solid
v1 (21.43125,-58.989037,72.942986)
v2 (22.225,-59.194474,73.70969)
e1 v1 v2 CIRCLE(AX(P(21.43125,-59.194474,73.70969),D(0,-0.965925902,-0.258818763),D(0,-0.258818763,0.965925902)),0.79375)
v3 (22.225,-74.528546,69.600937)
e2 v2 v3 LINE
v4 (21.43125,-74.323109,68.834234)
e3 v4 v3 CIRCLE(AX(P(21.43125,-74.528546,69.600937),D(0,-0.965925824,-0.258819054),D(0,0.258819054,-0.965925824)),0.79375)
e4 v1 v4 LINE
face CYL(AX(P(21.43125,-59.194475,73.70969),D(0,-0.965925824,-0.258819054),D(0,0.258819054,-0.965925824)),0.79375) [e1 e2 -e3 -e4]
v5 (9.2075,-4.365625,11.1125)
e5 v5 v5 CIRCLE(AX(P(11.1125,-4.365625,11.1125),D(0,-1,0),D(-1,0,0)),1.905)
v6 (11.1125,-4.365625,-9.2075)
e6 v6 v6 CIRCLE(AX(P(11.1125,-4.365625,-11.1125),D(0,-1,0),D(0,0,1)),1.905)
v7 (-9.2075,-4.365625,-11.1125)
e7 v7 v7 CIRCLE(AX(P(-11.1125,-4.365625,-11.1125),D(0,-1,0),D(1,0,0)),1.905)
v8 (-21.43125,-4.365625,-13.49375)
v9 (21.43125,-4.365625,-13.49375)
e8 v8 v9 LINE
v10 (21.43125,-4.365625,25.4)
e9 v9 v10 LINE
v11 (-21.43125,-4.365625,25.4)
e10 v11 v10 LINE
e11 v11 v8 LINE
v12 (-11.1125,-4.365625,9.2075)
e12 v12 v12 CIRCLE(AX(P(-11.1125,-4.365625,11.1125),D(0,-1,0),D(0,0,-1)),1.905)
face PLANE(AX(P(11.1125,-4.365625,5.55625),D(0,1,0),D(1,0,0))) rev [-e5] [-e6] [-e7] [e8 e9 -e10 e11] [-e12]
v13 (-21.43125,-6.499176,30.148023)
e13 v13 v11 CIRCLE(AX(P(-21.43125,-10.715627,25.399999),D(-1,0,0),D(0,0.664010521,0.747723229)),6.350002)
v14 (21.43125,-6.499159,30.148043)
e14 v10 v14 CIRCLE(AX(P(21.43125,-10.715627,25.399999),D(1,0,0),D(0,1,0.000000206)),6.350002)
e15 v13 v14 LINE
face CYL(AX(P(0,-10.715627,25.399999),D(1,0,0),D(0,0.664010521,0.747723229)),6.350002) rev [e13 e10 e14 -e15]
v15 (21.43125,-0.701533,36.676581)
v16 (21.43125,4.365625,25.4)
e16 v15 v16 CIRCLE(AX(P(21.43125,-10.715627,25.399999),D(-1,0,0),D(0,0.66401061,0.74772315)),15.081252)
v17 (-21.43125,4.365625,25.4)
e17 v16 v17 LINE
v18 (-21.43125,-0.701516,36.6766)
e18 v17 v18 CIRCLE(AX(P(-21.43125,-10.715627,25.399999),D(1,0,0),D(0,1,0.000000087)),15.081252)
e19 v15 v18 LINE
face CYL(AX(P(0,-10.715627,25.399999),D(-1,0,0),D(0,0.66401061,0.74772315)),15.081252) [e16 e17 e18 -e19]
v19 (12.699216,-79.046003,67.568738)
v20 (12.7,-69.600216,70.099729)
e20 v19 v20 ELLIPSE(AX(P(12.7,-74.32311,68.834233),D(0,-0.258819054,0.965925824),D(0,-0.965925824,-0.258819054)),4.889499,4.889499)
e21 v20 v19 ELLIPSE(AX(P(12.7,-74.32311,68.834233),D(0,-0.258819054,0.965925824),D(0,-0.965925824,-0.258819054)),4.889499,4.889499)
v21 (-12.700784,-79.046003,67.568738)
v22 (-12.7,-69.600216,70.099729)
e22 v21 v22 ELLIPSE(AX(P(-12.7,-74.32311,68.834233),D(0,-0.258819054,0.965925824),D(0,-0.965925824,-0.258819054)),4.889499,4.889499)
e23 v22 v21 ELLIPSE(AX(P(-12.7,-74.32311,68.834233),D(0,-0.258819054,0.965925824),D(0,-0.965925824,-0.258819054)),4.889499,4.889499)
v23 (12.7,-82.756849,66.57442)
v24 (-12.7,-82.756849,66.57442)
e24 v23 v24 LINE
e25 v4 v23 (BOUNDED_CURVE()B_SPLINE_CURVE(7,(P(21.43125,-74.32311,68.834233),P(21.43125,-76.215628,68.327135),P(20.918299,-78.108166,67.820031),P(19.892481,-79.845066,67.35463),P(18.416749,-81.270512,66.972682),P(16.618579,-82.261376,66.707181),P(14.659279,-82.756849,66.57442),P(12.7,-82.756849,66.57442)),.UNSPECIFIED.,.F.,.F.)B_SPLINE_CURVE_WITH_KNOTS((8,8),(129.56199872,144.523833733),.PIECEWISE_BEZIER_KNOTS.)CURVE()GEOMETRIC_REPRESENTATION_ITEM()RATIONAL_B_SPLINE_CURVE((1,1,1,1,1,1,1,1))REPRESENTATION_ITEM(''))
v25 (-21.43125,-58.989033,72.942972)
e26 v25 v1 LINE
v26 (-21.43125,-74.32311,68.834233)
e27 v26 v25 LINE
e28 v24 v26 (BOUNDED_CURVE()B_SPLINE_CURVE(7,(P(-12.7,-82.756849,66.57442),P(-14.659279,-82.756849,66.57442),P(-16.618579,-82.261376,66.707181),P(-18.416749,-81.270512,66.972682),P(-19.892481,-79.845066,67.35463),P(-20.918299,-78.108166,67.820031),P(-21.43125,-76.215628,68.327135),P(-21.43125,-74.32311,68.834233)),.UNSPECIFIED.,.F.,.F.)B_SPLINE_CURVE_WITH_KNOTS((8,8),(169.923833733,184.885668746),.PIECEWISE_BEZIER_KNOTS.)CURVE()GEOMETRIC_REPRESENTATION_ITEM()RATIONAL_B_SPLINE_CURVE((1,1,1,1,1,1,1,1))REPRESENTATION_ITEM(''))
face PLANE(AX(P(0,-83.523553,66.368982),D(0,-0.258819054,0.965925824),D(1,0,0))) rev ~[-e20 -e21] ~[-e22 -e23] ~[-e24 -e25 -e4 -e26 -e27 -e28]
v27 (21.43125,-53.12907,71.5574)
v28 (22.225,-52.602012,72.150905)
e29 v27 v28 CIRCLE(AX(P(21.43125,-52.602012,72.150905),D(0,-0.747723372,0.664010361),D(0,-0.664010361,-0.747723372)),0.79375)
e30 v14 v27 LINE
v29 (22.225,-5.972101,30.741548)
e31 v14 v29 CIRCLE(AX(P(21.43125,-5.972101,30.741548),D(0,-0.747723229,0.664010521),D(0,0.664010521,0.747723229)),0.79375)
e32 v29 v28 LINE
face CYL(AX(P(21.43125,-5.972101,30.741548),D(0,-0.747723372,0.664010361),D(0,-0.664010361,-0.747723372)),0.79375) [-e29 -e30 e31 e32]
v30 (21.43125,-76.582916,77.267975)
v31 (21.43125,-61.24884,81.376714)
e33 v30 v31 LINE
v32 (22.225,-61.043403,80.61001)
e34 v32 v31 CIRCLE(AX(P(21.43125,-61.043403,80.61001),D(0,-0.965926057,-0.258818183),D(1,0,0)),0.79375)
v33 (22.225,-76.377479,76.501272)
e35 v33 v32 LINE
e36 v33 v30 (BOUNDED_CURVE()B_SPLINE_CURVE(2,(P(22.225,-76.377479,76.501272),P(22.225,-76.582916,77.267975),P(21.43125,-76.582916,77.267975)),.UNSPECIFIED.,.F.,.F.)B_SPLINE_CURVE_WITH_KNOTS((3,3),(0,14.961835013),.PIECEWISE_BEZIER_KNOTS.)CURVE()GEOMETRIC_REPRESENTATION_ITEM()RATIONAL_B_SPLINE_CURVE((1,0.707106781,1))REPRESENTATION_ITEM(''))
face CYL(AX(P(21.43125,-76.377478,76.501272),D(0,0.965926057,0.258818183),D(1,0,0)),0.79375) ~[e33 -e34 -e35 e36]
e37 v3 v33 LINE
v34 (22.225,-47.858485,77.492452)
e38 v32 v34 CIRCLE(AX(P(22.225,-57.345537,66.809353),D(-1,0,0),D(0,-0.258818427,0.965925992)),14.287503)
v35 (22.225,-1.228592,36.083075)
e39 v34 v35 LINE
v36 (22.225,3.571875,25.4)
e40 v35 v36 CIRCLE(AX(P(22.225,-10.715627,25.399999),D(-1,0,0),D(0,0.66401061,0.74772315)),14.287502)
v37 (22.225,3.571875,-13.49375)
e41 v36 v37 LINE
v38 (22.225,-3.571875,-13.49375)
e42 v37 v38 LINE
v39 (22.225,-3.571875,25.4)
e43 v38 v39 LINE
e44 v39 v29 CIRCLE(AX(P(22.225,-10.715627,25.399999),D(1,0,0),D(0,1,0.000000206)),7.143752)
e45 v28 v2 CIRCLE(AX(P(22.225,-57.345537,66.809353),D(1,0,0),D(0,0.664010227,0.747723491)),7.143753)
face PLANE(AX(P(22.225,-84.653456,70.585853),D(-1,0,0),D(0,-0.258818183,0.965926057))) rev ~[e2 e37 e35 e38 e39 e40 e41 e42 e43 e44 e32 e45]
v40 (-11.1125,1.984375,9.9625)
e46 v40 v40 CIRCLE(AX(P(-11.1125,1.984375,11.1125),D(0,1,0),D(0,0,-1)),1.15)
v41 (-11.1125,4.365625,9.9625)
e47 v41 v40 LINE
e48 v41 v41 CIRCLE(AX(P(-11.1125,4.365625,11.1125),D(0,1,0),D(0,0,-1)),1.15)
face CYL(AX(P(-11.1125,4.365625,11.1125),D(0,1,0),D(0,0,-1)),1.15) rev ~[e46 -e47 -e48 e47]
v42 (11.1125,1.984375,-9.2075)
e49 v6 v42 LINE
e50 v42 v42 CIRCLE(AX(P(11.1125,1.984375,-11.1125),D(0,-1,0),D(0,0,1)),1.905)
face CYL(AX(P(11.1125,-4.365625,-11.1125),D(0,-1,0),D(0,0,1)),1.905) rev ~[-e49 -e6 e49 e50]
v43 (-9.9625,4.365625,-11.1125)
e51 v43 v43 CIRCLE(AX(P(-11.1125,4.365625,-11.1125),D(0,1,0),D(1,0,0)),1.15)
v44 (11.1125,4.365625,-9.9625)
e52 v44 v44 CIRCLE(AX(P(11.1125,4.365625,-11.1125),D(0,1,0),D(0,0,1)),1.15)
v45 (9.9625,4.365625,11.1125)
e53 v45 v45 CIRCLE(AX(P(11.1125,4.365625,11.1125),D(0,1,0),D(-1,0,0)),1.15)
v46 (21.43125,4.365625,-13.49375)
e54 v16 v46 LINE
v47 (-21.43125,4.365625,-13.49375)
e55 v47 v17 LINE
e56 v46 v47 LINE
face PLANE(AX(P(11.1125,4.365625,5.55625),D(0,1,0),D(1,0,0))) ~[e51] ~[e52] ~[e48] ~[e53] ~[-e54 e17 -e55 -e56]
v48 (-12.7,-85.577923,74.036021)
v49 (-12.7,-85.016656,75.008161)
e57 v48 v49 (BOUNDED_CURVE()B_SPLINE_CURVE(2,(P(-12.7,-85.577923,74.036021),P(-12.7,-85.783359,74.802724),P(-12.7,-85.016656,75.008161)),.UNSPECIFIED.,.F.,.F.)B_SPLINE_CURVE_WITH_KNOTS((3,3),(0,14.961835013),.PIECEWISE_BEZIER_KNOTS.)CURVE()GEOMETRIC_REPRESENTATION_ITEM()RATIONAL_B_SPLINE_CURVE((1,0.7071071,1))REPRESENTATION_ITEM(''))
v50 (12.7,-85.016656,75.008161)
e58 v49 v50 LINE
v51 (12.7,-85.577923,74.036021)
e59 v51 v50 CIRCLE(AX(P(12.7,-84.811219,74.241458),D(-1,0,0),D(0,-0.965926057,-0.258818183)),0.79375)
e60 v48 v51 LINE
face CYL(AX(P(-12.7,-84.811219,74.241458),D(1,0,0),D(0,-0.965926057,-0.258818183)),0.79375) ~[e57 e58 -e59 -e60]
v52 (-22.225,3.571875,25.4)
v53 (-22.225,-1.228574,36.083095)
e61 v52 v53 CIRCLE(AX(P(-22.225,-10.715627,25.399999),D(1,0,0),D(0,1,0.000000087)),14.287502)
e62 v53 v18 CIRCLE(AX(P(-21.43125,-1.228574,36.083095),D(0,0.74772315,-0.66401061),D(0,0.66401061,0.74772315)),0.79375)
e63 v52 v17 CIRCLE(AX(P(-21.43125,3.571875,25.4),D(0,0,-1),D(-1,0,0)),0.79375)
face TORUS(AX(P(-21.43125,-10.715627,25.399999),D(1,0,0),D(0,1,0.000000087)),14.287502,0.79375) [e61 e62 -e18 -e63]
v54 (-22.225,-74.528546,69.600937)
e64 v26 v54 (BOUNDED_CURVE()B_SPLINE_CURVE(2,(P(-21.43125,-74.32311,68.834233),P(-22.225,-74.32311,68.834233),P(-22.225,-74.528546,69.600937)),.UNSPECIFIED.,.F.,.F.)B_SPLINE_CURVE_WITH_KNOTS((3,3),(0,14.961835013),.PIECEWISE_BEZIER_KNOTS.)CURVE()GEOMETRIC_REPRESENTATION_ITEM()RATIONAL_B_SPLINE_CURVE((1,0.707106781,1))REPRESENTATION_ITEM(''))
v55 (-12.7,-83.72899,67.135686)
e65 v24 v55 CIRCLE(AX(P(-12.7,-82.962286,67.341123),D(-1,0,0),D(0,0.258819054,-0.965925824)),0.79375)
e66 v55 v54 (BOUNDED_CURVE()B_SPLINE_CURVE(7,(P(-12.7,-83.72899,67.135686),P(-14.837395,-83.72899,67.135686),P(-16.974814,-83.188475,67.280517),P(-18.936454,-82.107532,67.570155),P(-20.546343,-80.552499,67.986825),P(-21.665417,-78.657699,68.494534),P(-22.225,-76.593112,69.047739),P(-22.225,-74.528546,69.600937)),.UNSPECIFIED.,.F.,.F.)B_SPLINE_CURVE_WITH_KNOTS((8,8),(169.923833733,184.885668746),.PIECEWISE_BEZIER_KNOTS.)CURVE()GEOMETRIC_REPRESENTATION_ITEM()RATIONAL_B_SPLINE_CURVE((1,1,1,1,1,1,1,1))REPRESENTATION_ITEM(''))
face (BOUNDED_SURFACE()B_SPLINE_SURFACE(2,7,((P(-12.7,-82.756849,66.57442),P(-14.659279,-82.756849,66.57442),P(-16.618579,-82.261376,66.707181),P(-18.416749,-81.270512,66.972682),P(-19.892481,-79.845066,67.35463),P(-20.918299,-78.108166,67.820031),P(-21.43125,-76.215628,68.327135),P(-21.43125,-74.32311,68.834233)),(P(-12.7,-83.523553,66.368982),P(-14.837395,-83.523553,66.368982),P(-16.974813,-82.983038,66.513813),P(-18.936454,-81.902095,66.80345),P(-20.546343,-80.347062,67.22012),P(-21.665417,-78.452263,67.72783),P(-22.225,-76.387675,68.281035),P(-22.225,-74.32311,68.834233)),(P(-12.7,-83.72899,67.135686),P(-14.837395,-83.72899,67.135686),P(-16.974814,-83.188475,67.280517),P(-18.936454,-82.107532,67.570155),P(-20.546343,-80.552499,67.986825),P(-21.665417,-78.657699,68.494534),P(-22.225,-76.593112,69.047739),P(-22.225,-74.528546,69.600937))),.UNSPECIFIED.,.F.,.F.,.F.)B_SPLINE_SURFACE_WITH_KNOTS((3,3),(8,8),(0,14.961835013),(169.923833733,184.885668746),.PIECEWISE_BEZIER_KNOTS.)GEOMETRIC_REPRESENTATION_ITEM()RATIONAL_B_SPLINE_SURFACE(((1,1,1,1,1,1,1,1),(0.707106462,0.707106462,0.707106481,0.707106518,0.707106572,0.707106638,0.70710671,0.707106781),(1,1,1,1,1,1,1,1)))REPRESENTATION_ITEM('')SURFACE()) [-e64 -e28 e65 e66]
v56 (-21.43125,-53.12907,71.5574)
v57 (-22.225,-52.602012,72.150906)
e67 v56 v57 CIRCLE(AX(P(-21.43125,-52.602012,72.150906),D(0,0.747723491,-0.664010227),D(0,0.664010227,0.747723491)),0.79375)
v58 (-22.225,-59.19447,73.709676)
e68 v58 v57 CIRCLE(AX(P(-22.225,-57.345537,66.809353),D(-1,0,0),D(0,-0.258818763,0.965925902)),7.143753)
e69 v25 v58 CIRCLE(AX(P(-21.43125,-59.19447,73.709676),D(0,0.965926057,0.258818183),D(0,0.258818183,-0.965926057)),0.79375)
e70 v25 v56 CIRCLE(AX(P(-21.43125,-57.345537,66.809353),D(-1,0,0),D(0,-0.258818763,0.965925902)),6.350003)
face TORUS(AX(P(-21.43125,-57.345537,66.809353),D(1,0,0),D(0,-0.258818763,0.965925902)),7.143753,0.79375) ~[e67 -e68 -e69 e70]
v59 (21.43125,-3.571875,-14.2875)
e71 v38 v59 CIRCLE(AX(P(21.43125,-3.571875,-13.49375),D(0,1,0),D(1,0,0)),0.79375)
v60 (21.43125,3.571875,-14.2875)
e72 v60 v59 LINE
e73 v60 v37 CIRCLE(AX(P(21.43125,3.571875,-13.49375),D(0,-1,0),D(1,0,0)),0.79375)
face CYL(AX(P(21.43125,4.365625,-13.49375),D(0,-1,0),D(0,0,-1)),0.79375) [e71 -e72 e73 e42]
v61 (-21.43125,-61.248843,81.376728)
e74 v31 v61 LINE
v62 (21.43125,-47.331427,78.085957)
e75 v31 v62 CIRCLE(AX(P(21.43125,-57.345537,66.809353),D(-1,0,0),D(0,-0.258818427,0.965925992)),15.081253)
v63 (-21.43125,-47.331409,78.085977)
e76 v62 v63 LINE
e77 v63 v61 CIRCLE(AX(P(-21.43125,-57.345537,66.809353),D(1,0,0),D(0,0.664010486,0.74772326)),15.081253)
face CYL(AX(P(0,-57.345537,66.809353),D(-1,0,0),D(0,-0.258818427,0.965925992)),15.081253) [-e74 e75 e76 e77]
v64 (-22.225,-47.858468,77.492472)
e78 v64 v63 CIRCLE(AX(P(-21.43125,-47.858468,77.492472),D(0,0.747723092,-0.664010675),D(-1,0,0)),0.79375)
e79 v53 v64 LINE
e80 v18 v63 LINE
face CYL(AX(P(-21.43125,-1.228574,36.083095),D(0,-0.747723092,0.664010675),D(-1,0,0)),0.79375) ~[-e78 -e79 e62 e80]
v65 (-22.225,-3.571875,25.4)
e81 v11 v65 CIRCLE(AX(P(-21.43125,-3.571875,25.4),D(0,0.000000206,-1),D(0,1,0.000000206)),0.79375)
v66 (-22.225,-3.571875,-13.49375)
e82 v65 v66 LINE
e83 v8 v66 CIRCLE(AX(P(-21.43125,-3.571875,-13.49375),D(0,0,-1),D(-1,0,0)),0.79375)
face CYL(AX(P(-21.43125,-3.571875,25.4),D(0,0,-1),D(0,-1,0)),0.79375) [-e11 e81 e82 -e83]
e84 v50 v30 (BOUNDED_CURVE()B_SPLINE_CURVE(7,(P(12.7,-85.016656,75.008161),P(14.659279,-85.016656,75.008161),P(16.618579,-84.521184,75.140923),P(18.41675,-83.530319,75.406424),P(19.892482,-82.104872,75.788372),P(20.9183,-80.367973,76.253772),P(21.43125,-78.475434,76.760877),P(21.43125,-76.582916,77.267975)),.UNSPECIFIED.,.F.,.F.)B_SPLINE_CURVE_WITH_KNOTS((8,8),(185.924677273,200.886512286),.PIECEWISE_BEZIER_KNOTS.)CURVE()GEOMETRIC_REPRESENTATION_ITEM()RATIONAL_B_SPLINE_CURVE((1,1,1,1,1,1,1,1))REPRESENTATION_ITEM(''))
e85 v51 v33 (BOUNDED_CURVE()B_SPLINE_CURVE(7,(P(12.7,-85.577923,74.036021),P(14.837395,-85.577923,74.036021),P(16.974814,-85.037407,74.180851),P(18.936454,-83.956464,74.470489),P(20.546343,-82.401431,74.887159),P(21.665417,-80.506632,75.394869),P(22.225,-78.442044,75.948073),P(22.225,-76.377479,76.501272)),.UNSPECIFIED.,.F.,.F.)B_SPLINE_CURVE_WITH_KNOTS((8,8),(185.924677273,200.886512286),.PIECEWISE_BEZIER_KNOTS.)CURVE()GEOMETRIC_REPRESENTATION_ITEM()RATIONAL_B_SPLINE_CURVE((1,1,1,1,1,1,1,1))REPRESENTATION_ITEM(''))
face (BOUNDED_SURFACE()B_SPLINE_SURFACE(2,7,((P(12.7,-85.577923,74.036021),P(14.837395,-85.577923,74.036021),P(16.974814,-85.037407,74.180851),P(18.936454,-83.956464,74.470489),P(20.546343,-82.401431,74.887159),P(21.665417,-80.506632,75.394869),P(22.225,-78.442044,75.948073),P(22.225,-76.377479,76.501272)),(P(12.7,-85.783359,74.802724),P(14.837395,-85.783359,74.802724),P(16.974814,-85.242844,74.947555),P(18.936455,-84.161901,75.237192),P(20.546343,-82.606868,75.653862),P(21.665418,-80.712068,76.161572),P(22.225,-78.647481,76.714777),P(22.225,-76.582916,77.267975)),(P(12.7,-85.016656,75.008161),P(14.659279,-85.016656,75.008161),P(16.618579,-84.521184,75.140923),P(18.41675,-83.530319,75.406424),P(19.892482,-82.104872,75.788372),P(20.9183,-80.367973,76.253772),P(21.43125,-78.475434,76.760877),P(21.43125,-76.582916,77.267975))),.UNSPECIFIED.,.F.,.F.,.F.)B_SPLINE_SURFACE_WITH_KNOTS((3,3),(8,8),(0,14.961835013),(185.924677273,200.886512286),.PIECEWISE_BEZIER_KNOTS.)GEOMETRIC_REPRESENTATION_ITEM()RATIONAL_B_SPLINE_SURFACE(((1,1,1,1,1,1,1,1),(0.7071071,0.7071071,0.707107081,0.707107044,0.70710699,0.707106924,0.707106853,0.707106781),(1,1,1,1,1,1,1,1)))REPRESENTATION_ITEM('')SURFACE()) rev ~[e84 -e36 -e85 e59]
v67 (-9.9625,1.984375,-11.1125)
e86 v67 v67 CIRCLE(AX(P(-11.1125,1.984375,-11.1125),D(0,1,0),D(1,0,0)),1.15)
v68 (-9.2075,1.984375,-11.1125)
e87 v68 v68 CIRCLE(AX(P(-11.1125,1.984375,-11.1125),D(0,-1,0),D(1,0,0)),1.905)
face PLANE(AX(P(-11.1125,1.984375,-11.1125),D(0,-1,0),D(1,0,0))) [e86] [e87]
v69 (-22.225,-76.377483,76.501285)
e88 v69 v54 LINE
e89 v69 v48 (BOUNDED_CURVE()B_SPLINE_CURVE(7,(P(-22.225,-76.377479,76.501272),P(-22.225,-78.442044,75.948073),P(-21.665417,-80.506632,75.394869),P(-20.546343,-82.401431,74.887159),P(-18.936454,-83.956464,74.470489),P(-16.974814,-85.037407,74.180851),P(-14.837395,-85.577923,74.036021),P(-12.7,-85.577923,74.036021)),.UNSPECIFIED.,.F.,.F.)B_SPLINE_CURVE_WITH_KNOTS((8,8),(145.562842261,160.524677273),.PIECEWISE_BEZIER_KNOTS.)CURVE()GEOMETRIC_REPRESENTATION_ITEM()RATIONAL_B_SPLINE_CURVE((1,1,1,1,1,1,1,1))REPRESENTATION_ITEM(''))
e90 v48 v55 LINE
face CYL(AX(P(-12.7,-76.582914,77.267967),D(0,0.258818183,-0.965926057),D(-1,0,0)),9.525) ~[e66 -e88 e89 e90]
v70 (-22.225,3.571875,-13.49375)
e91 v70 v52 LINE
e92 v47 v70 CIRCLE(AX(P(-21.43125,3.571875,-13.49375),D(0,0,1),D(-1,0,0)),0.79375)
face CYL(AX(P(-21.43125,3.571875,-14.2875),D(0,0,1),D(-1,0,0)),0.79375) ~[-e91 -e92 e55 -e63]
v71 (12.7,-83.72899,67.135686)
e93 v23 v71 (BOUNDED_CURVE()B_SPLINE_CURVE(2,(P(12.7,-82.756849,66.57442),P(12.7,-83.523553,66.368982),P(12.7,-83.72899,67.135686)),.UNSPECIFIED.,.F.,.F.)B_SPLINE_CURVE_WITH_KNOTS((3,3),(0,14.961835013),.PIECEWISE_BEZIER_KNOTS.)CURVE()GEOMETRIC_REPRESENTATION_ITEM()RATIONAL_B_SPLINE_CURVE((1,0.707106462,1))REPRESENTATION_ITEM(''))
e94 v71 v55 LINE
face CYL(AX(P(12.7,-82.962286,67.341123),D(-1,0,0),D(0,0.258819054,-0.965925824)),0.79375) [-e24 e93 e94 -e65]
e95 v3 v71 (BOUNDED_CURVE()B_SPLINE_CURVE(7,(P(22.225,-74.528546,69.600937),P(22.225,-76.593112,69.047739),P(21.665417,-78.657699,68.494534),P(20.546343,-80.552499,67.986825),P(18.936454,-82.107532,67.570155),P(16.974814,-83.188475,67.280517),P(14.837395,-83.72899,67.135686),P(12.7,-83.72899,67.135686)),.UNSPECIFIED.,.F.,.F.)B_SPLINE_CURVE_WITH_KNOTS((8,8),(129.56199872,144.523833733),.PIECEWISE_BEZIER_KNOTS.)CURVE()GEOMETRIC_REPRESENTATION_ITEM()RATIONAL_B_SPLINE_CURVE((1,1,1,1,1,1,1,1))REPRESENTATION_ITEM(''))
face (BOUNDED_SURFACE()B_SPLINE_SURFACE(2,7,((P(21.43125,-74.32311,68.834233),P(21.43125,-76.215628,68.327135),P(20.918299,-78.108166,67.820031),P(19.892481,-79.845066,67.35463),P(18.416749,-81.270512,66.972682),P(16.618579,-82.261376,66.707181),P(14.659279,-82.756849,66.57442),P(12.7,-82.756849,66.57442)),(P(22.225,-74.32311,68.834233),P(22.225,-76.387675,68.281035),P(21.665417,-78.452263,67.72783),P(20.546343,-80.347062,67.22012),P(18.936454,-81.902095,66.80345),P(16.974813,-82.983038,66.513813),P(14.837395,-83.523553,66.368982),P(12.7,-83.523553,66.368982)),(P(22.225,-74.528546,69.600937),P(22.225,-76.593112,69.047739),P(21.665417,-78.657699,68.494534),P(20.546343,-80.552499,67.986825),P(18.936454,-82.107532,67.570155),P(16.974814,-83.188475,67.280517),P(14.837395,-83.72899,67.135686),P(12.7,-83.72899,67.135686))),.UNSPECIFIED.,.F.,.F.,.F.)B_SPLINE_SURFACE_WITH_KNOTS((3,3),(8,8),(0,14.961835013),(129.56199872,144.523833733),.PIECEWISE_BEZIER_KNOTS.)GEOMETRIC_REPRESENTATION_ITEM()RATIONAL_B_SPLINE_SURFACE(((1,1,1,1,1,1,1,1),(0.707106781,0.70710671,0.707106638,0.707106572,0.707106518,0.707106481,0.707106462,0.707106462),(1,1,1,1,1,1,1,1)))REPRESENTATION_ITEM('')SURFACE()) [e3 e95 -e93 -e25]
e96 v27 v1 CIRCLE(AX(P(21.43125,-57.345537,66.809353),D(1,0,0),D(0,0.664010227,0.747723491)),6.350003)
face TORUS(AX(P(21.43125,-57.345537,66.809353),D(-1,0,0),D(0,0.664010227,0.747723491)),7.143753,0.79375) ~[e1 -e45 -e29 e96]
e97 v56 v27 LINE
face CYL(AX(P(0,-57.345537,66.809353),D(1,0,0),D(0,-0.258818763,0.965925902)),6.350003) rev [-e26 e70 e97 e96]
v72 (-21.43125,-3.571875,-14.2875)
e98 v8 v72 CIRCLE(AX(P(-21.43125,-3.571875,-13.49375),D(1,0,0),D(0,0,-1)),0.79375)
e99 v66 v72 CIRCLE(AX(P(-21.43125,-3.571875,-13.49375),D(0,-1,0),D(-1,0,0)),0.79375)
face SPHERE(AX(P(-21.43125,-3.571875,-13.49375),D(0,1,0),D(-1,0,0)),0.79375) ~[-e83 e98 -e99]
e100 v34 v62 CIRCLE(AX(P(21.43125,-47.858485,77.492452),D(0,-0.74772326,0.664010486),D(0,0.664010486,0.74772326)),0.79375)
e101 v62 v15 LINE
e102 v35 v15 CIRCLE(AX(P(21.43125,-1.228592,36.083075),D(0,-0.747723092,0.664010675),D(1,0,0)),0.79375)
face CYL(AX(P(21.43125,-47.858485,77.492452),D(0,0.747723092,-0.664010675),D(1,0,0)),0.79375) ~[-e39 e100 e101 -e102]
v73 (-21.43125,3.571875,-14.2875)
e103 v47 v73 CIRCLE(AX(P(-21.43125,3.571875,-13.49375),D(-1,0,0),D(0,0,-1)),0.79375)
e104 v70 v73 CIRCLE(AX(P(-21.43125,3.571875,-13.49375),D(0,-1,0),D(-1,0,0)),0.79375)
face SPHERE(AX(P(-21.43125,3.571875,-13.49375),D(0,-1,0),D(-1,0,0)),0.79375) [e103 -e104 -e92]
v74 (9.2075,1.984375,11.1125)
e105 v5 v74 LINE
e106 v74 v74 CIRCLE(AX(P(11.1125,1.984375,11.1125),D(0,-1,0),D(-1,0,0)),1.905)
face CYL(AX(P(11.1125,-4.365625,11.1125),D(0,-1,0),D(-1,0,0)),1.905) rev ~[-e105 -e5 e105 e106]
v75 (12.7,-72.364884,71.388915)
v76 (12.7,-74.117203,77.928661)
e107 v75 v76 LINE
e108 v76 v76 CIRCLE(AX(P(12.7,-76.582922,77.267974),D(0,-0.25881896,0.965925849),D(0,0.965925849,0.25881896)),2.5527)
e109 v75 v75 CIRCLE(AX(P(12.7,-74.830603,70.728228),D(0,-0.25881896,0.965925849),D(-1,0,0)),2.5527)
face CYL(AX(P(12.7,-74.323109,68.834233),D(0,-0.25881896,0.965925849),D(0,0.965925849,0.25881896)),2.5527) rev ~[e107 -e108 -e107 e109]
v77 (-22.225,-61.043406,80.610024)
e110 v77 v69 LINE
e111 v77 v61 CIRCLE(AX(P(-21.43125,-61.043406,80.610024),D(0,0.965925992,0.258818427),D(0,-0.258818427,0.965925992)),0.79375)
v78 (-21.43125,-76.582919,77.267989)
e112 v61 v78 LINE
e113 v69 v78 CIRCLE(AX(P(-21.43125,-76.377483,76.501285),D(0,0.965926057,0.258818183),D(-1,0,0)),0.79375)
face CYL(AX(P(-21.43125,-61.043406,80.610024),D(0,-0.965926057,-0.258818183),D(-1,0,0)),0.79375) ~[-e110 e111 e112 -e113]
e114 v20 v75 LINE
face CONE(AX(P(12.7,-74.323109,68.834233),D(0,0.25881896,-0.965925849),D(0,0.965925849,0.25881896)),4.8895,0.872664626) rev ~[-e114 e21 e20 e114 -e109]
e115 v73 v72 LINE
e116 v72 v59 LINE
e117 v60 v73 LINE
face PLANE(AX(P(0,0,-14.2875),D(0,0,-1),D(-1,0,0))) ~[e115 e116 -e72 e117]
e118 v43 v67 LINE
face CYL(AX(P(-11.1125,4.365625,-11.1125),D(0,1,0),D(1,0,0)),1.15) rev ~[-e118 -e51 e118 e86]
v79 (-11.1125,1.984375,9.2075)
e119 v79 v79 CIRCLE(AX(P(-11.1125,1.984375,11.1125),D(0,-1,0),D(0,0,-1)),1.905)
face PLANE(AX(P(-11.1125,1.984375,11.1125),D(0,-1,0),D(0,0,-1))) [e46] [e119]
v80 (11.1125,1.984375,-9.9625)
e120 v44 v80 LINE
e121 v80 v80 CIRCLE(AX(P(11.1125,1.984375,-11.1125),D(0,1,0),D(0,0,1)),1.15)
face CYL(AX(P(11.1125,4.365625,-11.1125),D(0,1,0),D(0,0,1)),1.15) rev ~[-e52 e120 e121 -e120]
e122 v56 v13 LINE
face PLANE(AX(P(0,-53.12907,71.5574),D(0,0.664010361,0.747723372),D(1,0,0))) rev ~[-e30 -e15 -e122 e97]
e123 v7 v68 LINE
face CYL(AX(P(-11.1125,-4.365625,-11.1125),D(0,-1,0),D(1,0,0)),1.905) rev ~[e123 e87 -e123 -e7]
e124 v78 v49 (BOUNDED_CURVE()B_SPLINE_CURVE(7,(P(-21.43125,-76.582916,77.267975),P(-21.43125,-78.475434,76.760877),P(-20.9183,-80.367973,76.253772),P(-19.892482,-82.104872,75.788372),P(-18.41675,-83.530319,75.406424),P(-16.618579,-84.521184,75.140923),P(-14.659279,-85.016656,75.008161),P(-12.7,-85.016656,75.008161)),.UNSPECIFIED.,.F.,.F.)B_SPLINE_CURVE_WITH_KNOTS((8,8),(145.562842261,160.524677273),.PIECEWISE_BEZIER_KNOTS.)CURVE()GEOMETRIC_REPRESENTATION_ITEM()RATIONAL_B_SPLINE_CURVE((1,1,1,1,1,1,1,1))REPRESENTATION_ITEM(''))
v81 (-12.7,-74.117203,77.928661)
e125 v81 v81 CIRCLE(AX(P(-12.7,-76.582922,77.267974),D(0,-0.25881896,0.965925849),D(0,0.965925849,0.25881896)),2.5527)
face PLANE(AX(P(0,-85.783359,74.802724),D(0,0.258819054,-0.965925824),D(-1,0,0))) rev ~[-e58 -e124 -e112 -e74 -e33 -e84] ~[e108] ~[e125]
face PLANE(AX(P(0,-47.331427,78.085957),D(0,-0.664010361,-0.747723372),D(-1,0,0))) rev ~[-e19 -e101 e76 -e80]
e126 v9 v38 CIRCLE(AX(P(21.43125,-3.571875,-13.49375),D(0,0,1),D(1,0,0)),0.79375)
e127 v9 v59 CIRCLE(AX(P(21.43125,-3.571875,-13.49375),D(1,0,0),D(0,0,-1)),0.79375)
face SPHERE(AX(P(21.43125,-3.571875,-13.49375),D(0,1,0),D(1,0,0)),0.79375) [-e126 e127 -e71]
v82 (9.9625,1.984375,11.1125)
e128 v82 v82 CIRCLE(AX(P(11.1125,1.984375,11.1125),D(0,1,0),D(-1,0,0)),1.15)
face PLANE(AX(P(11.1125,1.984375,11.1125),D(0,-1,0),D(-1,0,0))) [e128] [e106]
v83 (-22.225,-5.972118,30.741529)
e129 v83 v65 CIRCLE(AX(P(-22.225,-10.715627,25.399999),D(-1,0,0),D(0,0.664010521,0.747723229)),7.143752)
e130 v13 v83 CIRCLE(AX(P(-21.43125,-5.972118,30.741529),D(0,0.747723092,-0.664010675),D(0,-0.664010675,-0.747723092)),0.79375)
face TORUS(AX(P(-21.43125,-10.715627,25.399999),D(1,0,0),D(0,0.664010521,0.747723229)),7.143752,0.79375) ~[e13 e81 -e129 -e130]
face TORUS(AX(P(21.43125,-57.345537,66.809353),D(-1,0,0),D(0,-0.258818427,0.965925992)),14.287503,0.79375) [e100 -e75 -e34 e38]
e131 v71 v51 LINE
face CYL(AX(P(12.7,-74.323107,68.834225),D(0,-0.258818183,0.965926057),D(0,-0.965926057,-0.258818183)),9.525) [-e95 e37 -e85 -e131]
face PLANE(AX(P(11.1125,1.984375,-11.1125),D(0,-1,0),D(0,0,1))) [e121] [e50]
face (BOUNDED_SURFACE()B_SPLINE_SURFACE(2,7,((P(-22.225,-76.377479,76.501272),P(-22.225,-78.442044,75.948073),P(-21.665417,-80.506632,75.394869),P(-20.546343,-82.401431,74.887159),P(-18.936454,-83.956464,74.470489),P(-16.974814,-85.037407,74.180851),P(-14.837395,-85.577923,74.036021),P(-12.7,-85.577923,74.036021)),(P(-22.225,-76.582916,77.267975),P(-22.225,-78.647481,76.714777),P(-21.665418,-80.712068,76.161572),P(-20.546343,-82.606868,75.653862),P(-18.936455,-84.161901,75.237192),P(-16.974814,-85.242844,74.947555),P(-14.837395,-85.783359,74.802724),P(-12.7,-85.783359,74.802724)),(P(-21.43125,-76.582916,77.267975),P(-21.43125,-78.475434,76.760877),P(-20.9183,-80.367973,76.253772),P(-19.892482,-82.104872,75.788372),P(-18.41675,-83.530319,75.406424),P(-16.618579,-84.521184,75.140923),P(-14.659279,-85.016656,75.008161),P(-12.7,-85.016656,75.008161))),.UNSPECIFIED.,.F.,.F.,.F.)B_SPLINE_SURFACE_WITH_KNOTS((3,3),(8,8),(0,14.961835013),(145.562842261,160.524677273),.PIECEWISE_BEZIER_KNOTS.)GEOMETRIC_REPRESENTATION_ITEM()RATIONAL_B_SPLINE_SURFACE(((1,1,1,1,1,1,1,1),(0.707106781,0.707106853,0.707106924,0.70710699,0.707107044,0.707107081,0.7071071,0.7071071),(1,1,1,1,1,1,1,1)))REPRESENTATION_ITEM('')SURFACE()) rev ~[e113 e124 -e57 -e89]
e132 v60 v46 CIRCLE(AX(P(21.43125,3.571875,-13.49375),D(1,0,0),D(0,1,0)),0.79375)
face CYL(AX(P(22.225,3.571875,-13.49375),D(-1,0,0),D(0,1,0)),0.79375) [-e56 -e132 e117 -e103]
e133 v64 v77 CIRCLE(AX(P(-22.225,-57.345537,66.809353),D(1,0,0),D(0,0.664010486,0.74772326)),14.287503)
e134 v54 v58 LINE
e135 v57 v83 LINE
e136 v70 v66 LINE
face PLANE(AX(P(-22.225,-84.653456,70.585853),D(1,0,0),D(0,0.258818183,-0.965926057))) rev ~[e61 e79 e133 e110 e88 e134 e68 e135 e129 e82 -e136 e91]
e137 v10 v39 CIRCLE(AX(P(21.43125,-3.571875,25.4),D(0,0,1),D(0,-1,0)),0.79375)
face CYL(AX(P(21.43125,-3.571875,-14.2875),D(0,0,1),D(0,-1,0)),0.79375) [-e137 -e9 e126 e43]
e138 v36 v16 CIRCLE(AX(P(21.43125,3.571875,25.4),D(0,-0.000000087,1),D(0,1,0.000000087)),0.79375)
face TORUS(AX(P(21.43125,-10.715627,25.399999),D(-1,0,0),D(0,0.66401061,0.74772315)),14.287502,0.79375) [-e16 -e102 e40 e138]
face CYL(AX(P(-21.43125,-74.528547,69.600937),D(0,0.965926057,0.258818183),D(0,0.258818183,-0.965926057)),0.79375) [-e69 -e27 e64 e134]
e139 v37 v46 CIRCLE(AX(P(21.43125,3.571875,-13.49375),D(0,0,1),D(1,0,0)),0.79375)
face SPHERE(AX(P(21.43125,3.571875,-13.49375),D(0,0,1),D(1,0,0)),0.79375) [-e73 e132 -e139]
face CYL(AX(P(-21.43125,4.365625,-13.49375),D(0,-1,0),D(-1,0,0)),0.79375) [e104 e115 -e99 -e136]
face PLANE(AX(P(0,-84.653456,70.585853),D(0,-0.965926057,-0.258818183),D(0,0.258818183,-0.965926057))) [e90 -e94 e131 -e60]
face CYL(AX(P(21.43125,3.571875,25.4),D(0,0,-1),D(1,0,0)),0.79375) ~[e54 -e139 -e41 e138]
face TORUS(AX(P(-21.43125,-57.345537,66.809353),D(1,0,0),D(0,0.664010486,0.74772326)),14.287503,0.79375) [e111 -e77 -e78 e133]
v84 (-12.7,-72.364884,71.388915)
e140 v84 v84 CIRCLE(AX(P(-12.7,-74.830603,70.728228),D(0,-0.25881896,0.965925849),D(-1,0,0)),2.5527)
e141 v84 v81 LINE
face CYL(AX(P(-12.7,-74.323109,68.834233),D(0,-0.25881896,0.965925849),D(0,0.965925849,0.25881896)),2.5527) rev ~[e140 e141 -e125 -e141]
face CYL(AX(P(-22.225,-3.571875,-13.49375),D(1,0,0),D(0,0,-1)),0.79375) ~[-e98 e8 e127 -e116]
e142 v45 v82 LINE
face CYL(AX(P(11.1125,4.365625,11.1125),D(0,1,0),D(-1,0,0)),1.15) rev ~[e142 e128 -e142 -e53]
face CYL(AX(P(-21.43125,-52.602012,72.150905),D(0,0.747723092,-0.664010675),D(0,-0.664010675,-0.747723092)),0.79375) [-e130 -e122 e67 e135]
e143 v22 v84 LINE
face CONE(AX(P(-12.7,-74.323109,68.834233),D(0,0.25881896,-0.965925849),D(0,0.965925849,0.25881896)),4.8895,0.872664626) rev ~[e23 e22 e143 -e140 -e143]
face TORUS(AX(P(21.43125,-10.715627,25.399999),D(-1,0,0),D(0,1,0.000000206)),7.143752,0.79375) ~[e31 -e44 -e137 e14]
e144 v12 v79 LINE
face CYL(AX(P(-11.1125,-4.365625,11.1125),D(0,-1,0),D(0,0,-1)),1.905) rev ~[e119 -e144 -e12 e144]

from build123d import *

# Parameters (mm, degrees)
BOSS_EXTRUDE1_DEPTH                                = 4.365625
SKETCH3_W                                          = 44.45
SKETCH3_H                                          = 8.73125
FILLET3_R                                          = 9.525
FILLET2_R                                          = 0.79375
CSK_FOR_10_FLAT_HEAD_MACHINE_SCREW_100_D           = 5.1054
CSK_FOR_10_FLAT_HEAD_MACHINE_SCREW_100_CSINK_D     = 9.779
CSK_FOR_10_FLAT_HEAD_MACHINE_SCREW_100_CSINK_ANGLE = 100
CSK_FOR_10_FLAT_HEAD_MACHINE_SCREW_2_D             = 5.1054
CSK_FOR_10_FLAT_HEAD_MACHINE_SCREW_2_CSINK_D       = 9.779
CSK_FOR_10_FLAT_HEAD_MACHINE_SCREW_2_CSINK_ANGLE   = 100
SKETCH6_R                                          = 1.15
CUT_EXTRUDE1_DEPTH                                 = 90.9706
SKETCH7_R                                          = 1.905
CUT_EXTRUDE2_DEPTH                                 = 6.35
CIRPATTERN1_COUNT                                  = 4


with BuildPart() as part:
    # Sketch1 → Boss-Extrude1 (new body, symmetric)
    with BuildSketch(Plane(origin=(0, 0, 0), x_dir=(1, 0, 0), z_dir=(0, 1, 0))):
        Polygon((-22.225, 9.525), (-22.225, -25.4), (0, -25.4), (0, -12.7), (0, 14.2875), (-17.4625, 14.2875), (-22.225, 14.2875), align=None)
    boss_extrude1 = extrude(amount=BOSS_EXTRUDE1_DEPTH, both=True)

    # Mirror1: Boss-Extrude1 across plane
    add(boss_extrude1.mirror(Plane(origin=(0, 4.365625, 25.4), x_dir=(0, 0, 1), z_dir=(-1, 0, 0))))

    # Sweep1: sweep along a path in Sketch2
    with BuildLine(Plane(origin=(0, 0, 0), x_dir=(0, 0, -1), z_dir=(1, 0, 0))) as sweep1_path:
        Line((-66.368982, -83.523553), (-72.942986, -58.989037))
        ThreePointArc((-72.942986, -58.989037), (-72.98896, -55.884372), (-71.5574, -53.12907))
        Line((-71.5574, -53.12907), (-30.148043, -6.499159))
        ThreePointArc((-30.148043, -6.499159), (-28.002685, -4.923516), (-25.4, -4.365625))
    # Sketch3 → Sweep1 (sweep)
    with BuildSketch(Plane.XY.offset(25.4)):
        Rectangle(SKETCH3_W, SKETCH3_H)
    sweep(path=sweep1_path.line)

    # Fillet3
    fillet3_edges = [part.edges().sort_by_distance(p)[0] for p in [
        (-22.225, -84.65346, 70.585852),
        (22.225, -84.65346, 70.585852),
    ]]
    fillet(fillet3_edges, radius=FILLET3_R)

    # Fillet2
    fillet2_edges = [part.edges().sort_by_distance(p)[0] for p in [
        (-22.225, 0, -14.2875),
        (-22.225, 4.365625, 5.55625),
        (22.225, 4.365625, 5.55625),
        (22.225, 0, -14.2875),
        (22.225, -4.365625, 5.55625),
        (-22.225, -4.923516, 28.002685),
        (22.225, -4.923516, 28.002685),
        (22.225, 3.040634, 31.581378),
        (-22.225, 3.040634, 31.581378),
        (-22.225, -29.814115, 50.852722),
        (22.225, -29.814115, 50.852722),
        (22.225, -24.016474, 57.381282),
        (-22.225, -24.016474, 57.381282),
        (-22.225, -55.884372, 72.98896),
        (22.225, -55.884372, 72.98896),
        (22.225, -53.875272, 81.485915),
        (-22.225, -53.875272, 81.485915),
        (-22.225, -66.656073, 70.88861),
        (22.225, -66.656073, 70.88861),
        (22.225, -68.915887, 79.32235),
        (-22.225, -68.915887, 79.32235),
        (0, -83.523553, 66.368982),
        (0, -85.783366, 74.802722),
        (-19.435192, -83.088619, 75.524777),
        (19.435192, -83.088619, 75.524777),
        (-19.435192, -80.828805, 67.091038),
        (19.435192, -80.828805, 67.091038),
        (-22.225, -4.365625, 5.55625),
        (0, 4.365625, -14.2875),
        (0, -4.365625, -14.2875),
    ]]
    fillet(fillet2_edges, radius=FILLET2_R)

    # CSK for #10 Flat Head Machine Screw (100)1 (through all)
    with Locations(Plane(origin=(-12.7, -74.323109, 68.834233), x_dir=(0, -0.965926, -0.258819), z_dir=(0, 0.258819, -0.965926))):
        with Locations((0, 0)):
            CounterSinkHole(CSK_FOR_10_FLAT_HEAD_MACHINE_SCREW_100_D / 2, CSK_FOR_10_FLAT_HEAD_MACHINE_SCREW_100_CSINK_D / 2, counter_sink_angle=CSK_FOR_10_FLAT_HEAD_MACHINE_SCREW_100_CSINK_ANGLE)

    # CSK for _10 Flat Head Machine Screw  2 (through all)
    with Locations(Plane(origin=(12.7, -74.323109, 68.834233), x_dir=(0, -0.965926, -0.258819), z_dir=(0, 0.258819, -0.965926))):
        with Locations((0, 0)):
            CounterSinkHole(CSK_FOR_10_FLAT_HEAD_MACHINE_SCREW_2_D / 2, CSK_FOR_10_FLAT_HEAD_MACHINE_SCREW_2_CSINK_D / 2, counter_sink_angle=CSK_FOR_10_FLAT_HEAD_MACHINE_SCREW_2_CSINK_ANGLE)

    # Sketch6 → Cut-Extrude1 (cut, through all)
    with BuildSketch(Plane(origin=(0, 4.365625, 0), x_dir=(1, 0, 0), z_dir=(0, 1, 0))):
        with Locations((-11.1125, 11.1125)):
            Circle(SKETCH6_R)
    cut_extrude1 = extrude(amount=-CUT_EXTRUDE1_DEPTH, mode=Mode.SUBTRACT)

    # Sketch7 → Cut-Extrude2 (cut)
    with BuildSketch(Plane.XZ.offset(4.365625)):
        with Locations((-11.1125, -11.1125)):
            Circle(SKETCH7_R)
    cut_extrude2 = extrude(amount=-CUT_EXTRUDE2_DEPTH, mode=Mode.SUBTRACT)

    # CirPattern1: Cut-Extrude1, Cut-Extrude2 ×4 about axis
    cirpattern1_axis = Axis((0, 0, 0), (0, 1, 0))
    for i in range(1, CIRPATTERN1_COUNT):
        add(cut_extrude1.rotate(cirpattern1_axis, i * 360 / CIRPATTERN1_COUNT), mode=Mode.SUBTRACT)
        add(cut_extrude2.rotate(cirpattern1_axis, i * 360 / CIRPATTERN1_COUNT), mode=Mode.SUBTRACT)


solid = part.part
